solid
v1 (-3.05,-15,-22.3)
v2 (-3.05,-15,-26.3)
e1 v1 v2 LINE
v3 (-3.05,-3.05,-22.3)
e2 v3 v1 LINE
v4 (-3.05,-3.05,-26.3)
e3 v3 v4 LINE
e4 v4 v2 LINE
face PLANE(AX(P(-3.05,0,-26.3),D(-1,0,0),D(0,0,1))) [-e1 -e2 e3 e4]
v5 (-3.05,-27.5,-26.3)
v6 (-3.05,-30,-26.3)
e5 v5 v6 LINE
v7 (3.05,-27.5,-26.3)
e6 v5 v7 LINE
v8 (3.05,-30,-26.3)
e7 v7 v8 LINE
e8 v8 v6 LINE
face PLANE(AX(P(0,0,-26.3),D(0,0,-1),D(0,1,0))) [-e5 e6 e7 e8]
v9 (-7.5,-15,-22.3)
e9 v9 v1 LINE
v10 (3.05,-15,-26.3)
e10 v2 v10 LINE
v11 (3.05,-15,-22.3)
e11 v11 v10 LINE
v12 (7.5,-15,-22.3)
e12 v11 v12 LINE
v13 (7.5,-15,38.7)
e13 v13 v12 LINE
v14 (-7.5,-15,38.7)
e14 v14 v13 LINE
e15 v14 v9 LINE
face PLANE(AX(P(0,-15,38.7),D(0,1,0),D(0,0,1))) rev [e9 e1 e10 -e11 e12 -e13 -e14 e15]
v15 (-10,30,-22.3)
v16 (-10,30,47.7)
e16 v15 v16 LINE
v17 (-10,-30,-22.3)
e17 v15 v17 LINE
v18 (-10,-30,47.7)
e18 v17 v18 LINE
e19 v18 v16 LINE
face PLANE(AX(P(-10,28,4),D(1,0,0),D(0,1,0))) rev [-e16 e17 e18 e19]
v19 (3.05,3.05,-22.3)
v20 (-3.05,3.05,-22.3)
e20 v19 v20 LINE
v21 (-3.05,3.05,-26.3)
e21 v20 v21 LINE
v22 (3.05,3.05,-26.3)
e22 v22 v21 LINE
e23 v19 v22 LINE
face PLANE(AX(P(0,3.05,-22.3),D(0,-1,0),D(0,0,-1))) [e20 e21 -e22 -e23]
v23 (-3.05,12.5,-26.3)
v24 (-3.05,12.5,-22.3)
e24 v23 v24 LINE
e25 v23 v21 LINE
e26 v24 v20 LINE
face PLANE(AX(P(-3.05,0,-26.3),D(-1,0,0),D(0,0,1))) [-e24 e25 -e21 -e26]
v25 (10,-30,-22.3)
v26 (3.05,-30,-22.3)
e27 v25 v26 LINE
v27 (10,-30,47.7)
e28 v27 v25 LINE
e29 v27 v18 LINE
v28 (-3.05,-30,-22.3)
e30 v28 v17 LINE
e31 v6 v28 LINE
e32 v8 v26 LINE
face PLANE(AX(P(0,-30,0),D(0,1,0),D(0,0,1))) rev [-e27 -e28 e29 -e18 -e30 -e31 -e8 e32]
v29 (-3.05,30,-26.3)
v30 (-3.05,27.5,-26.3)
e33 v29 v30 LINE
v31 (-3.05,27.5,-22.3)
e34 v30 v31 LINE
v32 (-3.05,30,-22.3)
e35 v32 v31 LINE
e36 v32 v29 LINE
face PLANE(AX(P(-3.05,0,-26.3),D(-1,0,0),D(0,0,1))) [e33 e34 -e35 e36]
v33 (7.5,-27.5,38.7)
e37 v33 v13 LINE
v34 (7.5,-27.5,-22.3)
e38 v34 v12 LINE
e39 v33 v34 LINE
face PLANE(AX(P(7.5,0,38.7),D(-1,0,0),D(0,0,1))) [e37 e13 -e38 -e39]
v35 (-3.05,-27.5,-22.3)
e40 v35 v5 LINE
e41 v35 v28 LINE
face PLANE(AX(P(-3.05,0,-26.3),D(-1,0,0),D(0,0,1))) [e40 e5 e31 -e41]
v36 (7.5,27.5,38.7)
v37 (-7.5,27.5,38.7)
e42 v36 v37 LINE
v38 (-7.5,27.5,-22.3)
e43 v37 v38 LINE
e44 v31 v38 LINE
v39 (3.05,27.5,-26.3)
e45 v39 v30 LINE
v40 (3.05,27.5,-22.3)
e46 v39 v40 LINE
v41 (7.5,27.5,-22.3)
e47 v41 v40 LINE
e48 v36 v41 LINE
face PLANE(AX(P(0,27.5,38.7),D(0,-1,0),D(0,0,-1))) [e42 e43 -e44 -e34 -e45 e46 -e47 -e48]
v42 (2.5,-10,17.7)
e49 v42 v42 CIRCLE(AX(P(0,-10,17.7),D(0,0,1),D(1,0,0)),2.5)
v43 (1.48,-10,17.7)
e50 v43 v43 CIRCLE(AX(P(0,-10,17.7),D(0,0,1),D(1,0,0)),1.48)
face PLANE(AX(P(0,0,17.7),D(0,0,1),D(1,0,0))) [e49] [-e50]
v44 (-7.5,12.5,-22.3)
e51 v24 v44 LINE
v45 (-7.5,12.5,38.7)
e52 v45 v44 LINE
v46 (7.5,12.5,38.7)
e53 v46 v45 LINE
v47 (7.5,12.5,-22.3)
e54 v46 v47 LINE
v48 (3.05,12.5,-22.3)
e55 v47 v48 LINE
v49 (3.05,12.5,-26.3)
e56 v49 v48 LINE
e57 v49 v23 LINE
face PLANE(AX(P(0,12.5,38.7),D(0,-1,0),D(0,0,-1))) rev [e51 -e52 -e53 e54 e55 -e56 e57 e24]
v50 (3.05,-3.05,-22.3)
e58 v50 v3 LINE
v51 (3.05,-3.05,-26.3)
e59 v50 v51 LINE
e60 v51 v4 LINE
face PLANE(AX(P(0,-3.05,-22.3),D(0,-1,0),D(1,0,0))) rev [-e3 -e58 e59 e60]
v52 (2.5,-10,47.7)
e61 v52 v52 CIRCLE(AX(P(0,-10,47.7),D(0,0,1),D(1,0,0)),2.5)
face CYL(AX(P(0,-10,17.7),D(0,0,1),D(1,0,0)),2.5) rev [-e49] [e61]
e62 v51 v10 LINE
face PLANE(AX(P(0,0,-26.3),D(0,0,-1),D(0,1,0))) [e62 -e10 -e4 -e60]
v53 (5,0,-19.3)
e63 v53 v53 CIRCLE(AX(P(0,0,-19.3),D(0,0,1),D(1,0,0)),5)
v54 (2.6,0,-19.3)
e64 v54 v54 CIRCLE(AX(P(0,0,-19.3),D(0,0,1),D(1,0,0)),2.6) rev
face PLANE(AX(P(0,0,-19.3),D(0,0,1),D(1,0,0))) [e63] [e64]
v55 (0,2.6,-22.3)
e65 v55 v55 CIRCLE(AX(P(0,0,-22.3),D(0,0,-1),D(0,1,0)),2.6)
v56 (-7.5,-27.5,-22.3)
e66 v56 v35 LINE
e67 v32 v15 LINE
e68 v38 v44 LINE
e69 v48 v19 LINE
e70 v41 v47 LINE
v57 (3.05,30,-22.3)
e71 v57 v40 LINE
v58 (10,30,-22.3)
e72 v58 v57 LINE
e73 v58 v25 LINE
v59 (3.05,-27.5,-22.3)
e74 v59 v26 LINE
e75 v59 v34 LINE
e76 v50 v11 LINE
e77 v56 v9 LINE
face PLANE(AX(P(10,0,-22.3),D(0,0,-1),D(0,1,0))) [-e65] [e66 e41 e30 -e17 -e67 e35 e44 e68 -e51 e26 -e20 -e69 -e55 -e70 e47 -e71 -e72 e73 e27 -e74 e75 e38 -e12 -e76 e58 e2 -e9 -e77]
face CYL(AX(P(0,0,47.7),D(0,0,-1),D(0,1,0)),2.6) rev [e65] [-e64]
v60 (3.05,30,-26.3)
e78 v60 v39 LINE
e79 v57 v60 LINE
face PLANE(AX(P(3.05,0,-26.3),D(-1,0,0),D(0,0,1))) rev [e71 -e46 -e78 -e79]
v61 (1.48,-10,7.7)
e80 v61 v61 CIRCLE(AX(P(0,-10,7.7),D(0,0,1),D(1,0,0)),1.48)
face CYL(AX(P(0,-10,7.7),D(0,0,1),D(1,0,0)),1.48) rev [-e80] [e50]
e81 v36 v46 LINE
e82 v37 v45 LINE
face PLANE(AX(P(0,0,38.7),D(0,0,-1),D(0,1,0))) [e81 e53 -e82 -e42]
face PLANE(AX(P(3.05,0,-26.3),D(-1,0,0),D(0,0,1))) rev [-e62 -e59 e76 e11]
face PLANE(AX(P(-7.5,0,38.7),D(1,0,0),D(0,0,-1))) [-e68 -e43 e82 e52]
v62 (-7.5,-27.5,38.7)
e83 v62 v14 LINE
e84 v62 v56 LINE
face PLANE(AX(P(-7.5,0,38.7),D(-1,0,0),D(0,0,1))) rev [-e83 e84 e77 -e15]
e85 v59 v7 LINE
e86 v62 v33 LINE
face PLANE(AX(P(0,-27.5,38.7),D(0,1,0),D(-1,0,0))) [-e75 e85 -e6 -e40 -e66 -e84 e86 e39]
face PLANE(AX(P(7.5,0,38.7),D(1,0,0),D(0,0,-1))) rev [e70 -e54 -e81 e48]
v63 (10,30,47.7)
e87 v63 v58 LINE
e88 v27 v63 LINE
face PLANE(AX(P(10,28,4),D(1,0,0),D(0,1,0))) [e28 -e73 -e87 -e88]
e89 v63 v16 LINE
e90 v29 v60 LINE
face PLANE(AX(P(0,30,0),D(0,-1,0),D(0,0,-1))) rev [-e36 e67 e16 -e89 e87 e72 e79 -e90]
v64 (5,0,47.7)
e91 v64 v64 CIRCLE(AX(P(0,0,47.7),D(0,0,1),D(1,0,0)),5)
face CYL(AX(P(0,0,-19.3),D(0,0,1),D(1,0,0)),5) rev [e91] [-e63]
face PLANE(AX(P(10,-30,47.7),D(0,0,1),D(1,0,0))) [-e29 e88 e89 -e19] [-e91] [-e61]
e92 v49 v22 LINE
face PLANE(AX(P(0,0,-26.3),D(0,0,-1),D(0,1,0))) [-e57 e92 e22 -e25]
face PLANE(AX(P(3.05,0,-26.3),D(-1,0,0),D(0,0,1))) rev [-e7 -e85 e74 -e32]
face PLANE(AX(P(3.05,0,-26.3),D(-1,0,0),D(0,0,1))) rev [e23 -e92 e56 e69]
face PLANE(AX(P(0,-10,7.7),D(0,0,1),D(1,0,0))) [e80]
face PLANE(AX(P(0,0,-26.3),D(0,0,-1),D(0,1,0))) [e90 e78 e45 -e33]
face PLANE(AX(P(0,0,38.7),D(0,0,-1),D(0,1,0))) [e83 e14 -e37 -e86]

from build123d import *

# Parameters (mm, degrees)
EXTRUDE_1_DEPTH      = 14
CUT_EXTRUDE_1_DEPTH  = 44
SKETCH_3_W           = 6.2
SKETCH_3_H           = 6.2
CUT_EXTRUDE_2_DEPTH  = 4
SKETCH_4_R           = 4
CUT_EXTRUDE_3_DEPTH  = 5
SKETCH_5_R           = 2.6
CUT_EXTRUDE_4_DEPTH  = 5
CUT_EXTRUDE_5_DEPTH  = 50
EXTRUDE_2_DEPTH      = 8
EXTRUDE_3_DEPTH      = 8
SKETCH_10_W          = 20
SKETCH_10_H          = 10
EXTRUDE_4_DEPTH      = 18
SKETCH_12_R          = 1.48
CUT_EXTRUDE_6_DEPTH  = 20
SKETCH_13_W          = 4
SKETCH_13_H          = 40
CUT_EXTRUDE_7_DEPTH  = 22
SKETCH_16_R          = 5
CUT_EXTRUDE_8_DEPTH  = 3
SKETCH_17_R          = 5
CUT_EXTRUDE_9_DEPTH  = 3
SKETCH_18_R          = 2.6
CUT_EXTRUDE_10_DEPTH = 99
SKETCH_19_R          = 5
EXTRUDE_5_DEPTH      = 6
SKETCH_20_W          = 6.2
SKETCH_20_H          = 6.2
CUT_EXTRUDE_11_DEPTH = 4
SKETCH_21_W          = 6.2
SKETCH_21_H          = 6.2
EXTRUDE_6_DEPTH      = 4
SKETCH_22_W          = 0.05
SKETCH_22_H          = 60
CUT_EXTRUDE_12_DEPTH = 4
EXTRUDE_START        = 6
SKETCH_25_W          = 20
SKETCH_25_H          = 10
SKETCH_25_R          = 1.48
EXTRUDE_7_DEPTH      = 6
CUT_EXTRUDE_13_DEPTH = 7
SKETCH_28_W          = 8
SKETCH_28_H          = 10
EXTRUDE_8_DEPTH      = 20
CUT_EXTRUDE_14_DEPTH = 7
SKETCH_30_W          = 6
SKETCH_30_H          = 2.9827115
SKETCH_30_H_2        = 3.265133333
EXTRUDE_9_DEPTH      = 7
SKETCH_31_W          = 6
SKETCH_31_H          = 2
EXTRUDE_10_DEPTH     = 10
SKETCH_32_W          = 6.1
SKETCH_32_H          = 3
CUT_EXTRUDE_15_DEPTH = 10
SKETCH_33_W          = 6.1
SKETCH_33_H          = 3
CUT_EXTRUDE_16_DEPTH = 4
SKETCH_34_W          = 10
SKETCH_34_H          = 5
CUT_EXTRUDE_17_DEPTH = 6
SKETCH_35_W          = 1
SKETCH_35_H          = 5
CUT_EXTRUDE_18_DEPTH = 14
SKETCH_36_W          = 6
SKETCH_36_H          = 5
EXTRUDE_11_DEPTH     = 6
SKETCH_37_W          = 8
SKETCH_37_H          = 1
CUT_EXTRUDE_19_DEPTH = 2
SKETCH_38_R          = 5
EXTRUDE_12_DEPTH     = 6
SKETCH_39_R          = 2.6
CUT_EXTRUDE_20_DEPTH = 10
SKETCH_40_R          = 5
CUT_EXTRUDE_21_DEPTH = 3
EXTRUDE_START_2      = 1
SKETCH_41_W          = 20
SKETCH_41_H          = 40
SKETCH_41_R          = 5
EXTRUDE_13_DEPTH     = 1
SKETCH_42_W          = 20
SKETCH_42_H          = 10
SKETCH_42_R          = 1.48
EXTRUDE_14_DEPTH     = 1
SKETCH_43_W          = 5
SKETCH_43_H          = 5
CUT_EXTRUDE_22_DEPTH = 15
EXTRUDE_15_DEPTH     = 2
SKETCH_45_W          = 6.1
SKETCH_45_H          = 18.1
EXTRUDE_16_DEPTH     = 10
CUT_EXTRUDE_START    = -4
CUT_EXTRUDE_23_DEPTH = 4
SKETCH_47_W          = 15
SKETCH_47_H          = 7.002427308
EXTRUDE_17_DEPTH     = 4
CUT_EXTRUDE_24_DEPTH = 1
SKETCH_49_W          = 2
SKETCH_49_H          = 1
CUT_EXTRUDE_27_DEPTH = 12.5
SKETCH_51_W          = 5
SKETCH_51_H          = 1
EXTRUDE_18_DEPTH     = 1
CUT_EXTRUDE_28_DEPTH = 5
EXTRUDE_19_DEPTH     = 7.5
SKETCH_54_W          = 6.95
SKETCH_54_H          = 2
CUT_EXTRUDE_29_DEPTH = 7.5
SKETCH_55_W          = 6.1
SKETCH_55_H          = 3
CUT_EXTRUDE_30_DEPTH = 4
SKETCH_56_W          = 0.55
SKETCH_56_H          = 0.142857143
EXTRUDE_20_DEPTH     = 4
SKETCH_60_W          = 26.3
SKETCH_60_H          = 60
EXTRUDE_21_DEPTH     = 20
EXTRUDE_22_DEPTH     = 4
SKETCH_62_R          = 2.6
CUT_EXTRUDE_31_DEPTH = 50
SKETCH_63_R          = 5
CUT_EXTRUDE_32_DEPTH = 30.3
CUT_EXTRUDE_33_DEPTH = 4
CUT_EXTRUDE_34_DEPTH = 2
SKETCH_66_W          = 5
SKETCH_66_H          = 2
CUT_EXTRUDE_35_DEPTH = 50
CUT_EXTRUDE_36_DEPTH = 4
SKETCH_68_W          = 5
SKETCH_68_H          = 2
CUT_EXTRUDE_37_DEPTH = 2
SKETCH_69_W          = 13
SKETCH_69_H          = 7
EXTRUDE_23_DEPTH     = 15
SKETCH_70_W          = 13
SKETCH_70_H          = 7
CUT_EXTRUDE_38_DEPTH = 15
SKETCH_72_W          = 20
SKETCH_72_H          = 60
EXTRUDE_24_DEPTH     = 61.3
SKETCH_73_W          = 6.1
SKETCH_73_H          = 12
EXTRUDE_25_DEPTH     = 4
SKETCH_74_R          = 2.6
CUT_EXTRUDE_39_DEPTH = 70
SKETCH_76_W          = 70
SKETCH_76_H          = 60
EXTRUDE_26_DEPTH     = 20
SKETCH_77_R          = 2.6
CUT_EXTRUDE_40_DEPTH = 70
SKETCH_78_R          = 5
CUT_EXTRUDE_41_DEPTH = 67
SKETCH_79_R          = 2.5
CUT_EXTRUDE_42_DEPTH = 30
SKETCH_80_R          = 1.48
CUT_EXTRUDE_43_DEPTH = 10
SKETCH_81_W          = 4.45
SKETCH_81_H          = 15
SKETCH_81_W_2        = 6.1
CUT_EXTRUDE_45_DEPTH = 65
SKETCH_82_W          = 4.45
SKETCH_82_H          = 12.5
SKETCH_82_W_2        = 3.05
CUT_EXTRUDE_46_DEPTH = 65


with BuildPart() as part:
    # 草图1 → 凸台-拉伸1 (new body)
    with BuildSketch(Plane.XY):
        Polygon((-15, 22), (-15, -22), (15, -22), (15, 22), (0, 22), align=None)
    extrude(amount=EXTRUDE_1_DEPTH)

    # 草图2 → 切除-拉伸1 (cut)
    with BuildSketch(Plane(origin=(0, 22, 0), x_dir=(1, 0, 0), z_dir=(0, 1, 0))):
        Polygon((-15, 0), (-15, -14), (-10, -4), (-3.1, -4), (-3.1, 0), align=None)
        Polygon((3.1, -4), (10, -4), (15, -14), (15, 0), (3.1, 0), align=None)
    extrude(amount=-CUT_EXTRUDE_1_DEPTH, mode=Mode.SUBTRACT)

    # 草图3 → 切除-拉伸2 (cut)
    with BuildSketch(Plane(origin=(0, 0, 0), x_dir=(-1, 0, 0), z_dir=(0, 0, -1))):
        Rectangle(SKETCH_3_W, SKETCH_3_H)
    extrude(amount=-CUT_EXTRUDE_2_DEPTH, mode=Mode.SUBTRACT)

    # 草图4 → 切除-拉伸3 (cut)
    with BuildSketch(Plane.XY.offset(14)):
        Circle(SKETCH_4_R)
    extrude(amount=-CUT_EXTRUDE_3_DEPTH, mode=Mode.SUBTRACT)

    # 草图5 → 切除-拉伸4 (cut)
    with BuildSketch(Plane.XY.offset(9)):
        Circle(SKETCH_5_R)
    extrude(amount=-CUT_EXTRUDE_4_DEPTH, mode=Mode.SUBTRACT)

    # 草图6 → 切除-拉伸5 (cut)
    with BuildSketch(Plane.XZ.offset(22)):
        Polygon((-10, 4), (-15, 14), (-10, 14), align=None)
        Polygon((10, 4), (10, 14), (15, 14), align=None)
    extrude(amount=-CUT_EXTRUDE_5_DEPTH, mode=Mode.SUBTRACT)

    # 草图8 → 凸台-拉伸2 (add)
    with BuildSketch(Plane(origin=(0, -22, 0), x_dir=(-1, 0, 0), z_dir=(0, -1, 0))):
        Polygon((10, -14), (-10, -14), (-10, -4), (-3.1, -4), (-3.1, 0), (3.1, 0), (3.1, -4), (10, -4), align=None)
    extrude(amount=EXTRUDE_2_DEPTH)

    # 草图9 → 凸台-拉伸3 (add)
    with BuildSketch(Plane(origin=(0, 22, 0), x_dir=(1, 0, 0), z_dir=(0, 1, 0))):
        Polygon((-3.1, -4), (-3.1, 0), (3.1, 0), (3.1, -4), (10, -4), (10, -14), (-10, -14), (-10, -4), align=None)
    extrude(amount=EXTRUDE_3_DEPTH)

    # 草图10 → 凸台-拉伸4 (add)
    with BuildSketch(Plane.XY.offset(14)):
        with Locations((0, 25)):
            Rectangle(SKETCH_10_W, SKETCH_10_H)
        with Locations((0, -25)):
            Rectangle(SKETCH_10_W, SKETCH_10_H)
    extrude(amount=EXTRUDE_4_DEPTH)

    # 草图12 → 切除-拉伸6 (cut)
    with BuildSketch(Plane.XY.offset(32)):
        with Locations((-4.9, -24.6)):
            Circle(SKETCH_12_R)
        with Locations((4.9, -24.6)):
            Circle(SKETCH_12_R)
        with Locations((-4.9, 24.6)):
            Circle(SKETCH_12_R)
        with Locations((4.9, 24.6)):
            Circle(SKETCH_12_R)
    extrude(amount=-CUT_EXTRUDE_6_DEPTH, mode=Mode.SUBTRACT)

    # 草图13 → 切除-拉伸7 (cut)
    with BuildSketch(Plane(origin=(10, 0, 0), x_dir=(0, 0, -1), z_dir=(1, 0, 0))):
        with Locations((-12, 0)):
            Rectangle(SKETCH_13_W, SKETCH_13_H)
    extrude(amount=-CUT_EXTRUDE_7_DEPTH, mode=Mode.SUBTRACT)

    # 草图16 → 切除-拉伸8 (cut)
    with BuildSketch(Plane.XY.offset(10)):
        Circle(SKETCH_16_R)
    extrude(amount=-CUT_EXTRUDE_8_DEPTH, mode=Mode.SUBTRACT)

    # 草图17 → 切除-拉伸9 (cut)
    with BuildSketch(Plane.XY.offset(10)):
        with Locations((0, 15)):
            Circle(SKETCH_17_R)
        with Locations((0, -15)):
            Circle(SKETCH_17_R)
    extrude(amount=-CUT_EXTRUDE_9_DEPTH, mode=Mode.SUBTRACT)

    # 草图18 → 切除-拉伸10 (cut)
    with BuildSketch(Plane.XY.offset(7)):
        with Locations((0, 15)):
            Circle(SKETCH_18_R)
        with Locations((0, -15)):
            Circle(SKETCH_18_R)
    extrude(amount=-CUT_EXTRUDE_10_DEPTH, mode=Mode.SUBTRACT)

    # 草图19 → 凸台-拉伸5 (add)
    with BuildSketch(Plane.XY.offset(10)):
        Circle(SKETCH_19_R)
    extrude(amount=-EXTRUDE_5_DEPTH)

    # 草图20 → 切除-拉伸11 (cut)
    with BuildSketch(Plane(origin=(0, 0, 0), x_dir=(-1, 0, 0), z_dir=(0, 0, -1))):
        Polygon((0, -11.9), (0, -15), (0, -18.1), (3.1, -18.1), (3.1, -11.9), align=None)
        Polygon((0, -18.1), (0, -15), (0, -11.9), (-3.1, -11.9), (-3.1, -18.1), align=None)
        with Locations((0, 15)):
            Rectangle(SKETCH_20_W, SKETCH_20_H)
    extrude(amount=-CUT_EXTRUDE_11_DEPTH, mode=Mode.SUBTRACT)

    # 草图21 → 凸台-拉伸6 (add)
    with BuildSketch(Plane(origin=(0, 0, 0), x_dir=(-1, 0, 0), z_dir=(0, 0, -1))):
        Rectangle(SKETCH_21_W, SKETCH_21_H)
    extrude(amount=-EXTRUDE_6_DEPTH)

    # 草图22 → 切除-拉伸12 (cut)
    with BuildSketch(Plane(origin=(0, 0, 0), x_dir=(-1, 0, 0), z_dir=(0, 0, -1))):
        with Locations((-3.075, 0)):
            Rectangle(SKETCH_22_W, SKETCH_22_H)
        with Locations((3.075, 0)):
            Rectangle(SKETCH_22_W, SKETCH_22_H)
    extrude(amount=-CUT_EXTRUDE_12_DEPTH, mode=Mode.SUBTRACT)

    # 草图25 → 凸台-拉伸7 (add)
    # profile 1 of 2: a face of its own
    with BuildSketch(Plane.XY.offset(32).offset(EXTRUDE_START)):
        with Locations((0, 25)):
            Rectangle(SKETCH_25_W, SKETCH_25_H)
        with Locations((-4.9, 24.6)):
            Circle(SKETCH_25_R, mode=Mode.SUBTRACT)
        with Locations((4.9, 24.6)):
            Circle(SKETCH_25_R, mode=Mode.SUBTRACT)
    # profile 2 of 2: a face of its own
    with BuildSketch(Plane.XY.offset(32).offset(EXTRUDE_START)):
        with Locations((0, -25)):
            Rectangle(SKETCH_25_W, SKETCH_25_H)
        with Locations((-4.9, -24.6)):
            Circle(SKETCH_25_R, mode=Mode.SUBTRACT)
        with Locations((4.9, -24.6)):
            Circle(SKETCH_25_R, mode=Mode.SUBTRACT)
    extrude(amount=-EXTRUDE_7_DEPTH)

    # 草图27 → 切除-拉伸13 (cut)
    with BuildSketch(Plane(origin=(0, -20, 0), x_dir=(1, 0, 0), z_dir=(0, 1, 0))):
        Polygon((4, -15), (4, -10), (0, -10), (-4, -10), (-4, -15), align=None)
    extrude(amount=-CUT_EXTRUDE_13_DEPTH, mode=Mode.SUBTRACT)

    # 草图28 → 凸台-拉伸8 (add)
    with BuildSketch(Plane.ZY.offset(10)):
        with Locations((14, -25)):
            Rectangle(SKETCH_28_W, SKETCH_28_H)
        with Locations((14, 25)):
            Rectangle(SKETCH_28_W, SKETCH_28_H)
    extrude(amount=-EXTRUDE_8_DEPTH)

    # 草图29 → 切除-拉伸14 (cut)
    with BuildSketch(Plane(origin=(0, -20, 0), x_dir=(1, 0, 0), z_dir=(0, 1, 0))):
        Polygon((4, -20), (4, -10), (0, -10), (-4, -10), (-4, -20), align=None)
    extrude(amount=-CUT_EXTRUDE_14_DEPTH, mode=Mode.SUBTRACT)

    # 草图30 → 凸台-拉伸9 (add)
    with BuildSketch(Plane(origin=(0, -20, 0), x_dir=(1, 0, 0), z_dir=(0, 1, 0))):
        with Locations((-7, -18.50864425)):
            Rectangle(SKETCH_30_W, SKETCH_30_H)
        with Locations((7, -18.367433334)):
            Rectangle(SKETCH_30_W, SKETCH_30_H_2)
    extrude(amount=-EXTRUDE_9_DEPTH)

    # 草图31 → 凸台-拉伸10 (add)
    with BuildSketch(Plane(origin=(0, -20, 0), x_dir=(1, 0, 0), z_dir=(0, 1, 0))):
        with Locations((7, -21)):
            Rectangle(SKETCH_31_W, SKETCH_31_H)
        Polygon((4, -22), (4, -20), (-4, -20), (-10, -20), (-10, -22), align=None)
    extrude(amount=-EXTRUDE_10_DEPTH)

    # 草图32 → 切除-拉伸15 (cut)
    with BuildSketch(Plane(origin=(0, 0, 0), x_dir=(-1, 0, 0), z_dir=(0, 0, -1))):
        with Locations((0, -25.5)):
            Rectangle(SKETCH_32_W, SKETCH_32_H)
    extrude(amount=-CUT_EXTRUDE_15_DEPTH, mode=Mode.SUBTRACT)

    # 草图33 → 切除-拉伸16 (cut)
    with BuildSketch(Plane(origin=(0, 0, 0), x_dir=(-1, 0, 0), z_dir=(0, 0, -1))):
        with Locations((0, -28.5)):
            Rectangle(SKETCH_33_W, SKETCH_33_H)
    extrude(amount=-CUT_EXTRUDE_16_DEPTH, mode=Mode.SUBTRACT)

    # 草图34 → 切除-拉伸17 (cut)
    with BuildSketch(Plane.ZY.offset(10)):
        with Locations((15, -22.5)):
            Rectangle(SKETCH_34_W, SKETCH_34_H)
    extrude(amount=-CUT_EXTRUDE_17_DEPTH, mode=Mode.SUBTRACT)

    # 草图35 → 切除-拉伸18 (cut)
    with BuildSketch(Plane.ZY.offset(10)):
        with Locations((20.5, -22.5)):
            Rectangle(SKETCH_35_W, SKETCH_35_H)
    extrude(amount=-CUT_EXTRUDE_18_DEPTH, mode=Mode.SUBTRACT)

    # 草图36 → 凸台-拉伸11 (add)
    with BuildSketch(Plane.ZY.offset(10)):
        with Locations((13, -22.5)):
            Rectangle(SKETCH_36_W, SKETCH_36_H)
    extrude(amount=-EXTRUDE_11_DEPTH)

    # 草图37 → 切除-拉伸19 (cut)
    with BuildSketch(Plane(origin=(0, -25, 0), x_dir=(1, 0, 0), z_dir=(0, 1, 0))):
        with Locations((0, -20.5)):
            Rectangle(SKETCH_37_W, SKETCH_37_H)
    extrude(amount=-CUT_EXTRUDE_19_DEPTH, mode=Mode.SUBTRACT)

    # 草图38 → 凸台-拉伸12 (add)
    with BuildSketch(Plane.XY.offset(10)):
        with Locations((0, 15)):
            Circle(SKETCH_38_R)
        with Locations((0, -15)):
            Circle(SKETCH_38_R)
    extrude(amount=-EXTRUDE_12_DEPTH)

    # 草图39 → 切除-拉伸20 (cut)
    with BuildSketch(Plane.XY.offset(10)):
        Circle(SKETCH_39_R)
    extrude(amount=-CUT_EXTRUDE_20_DEPTH, mode=Mode.SUBTRACT)

    # 草图40 → 切除-拉伸21 (cut)
    with BuildSketch(Plane.XY.offset(10)):
        Circle(SKETCH_40_R)
    extrude(amount=-CUT_EXTRUDE_21_DEPTH, mode=Mode.SUBTRACT)

    # 草图41 → 凸台-拉伸13 (add)
    with BuildSketch(Plane.XY.offset(10).offset(EXTRUDE_START_2)):
        Rectangle(SKETCH_41_W, SKETCH_41_H)
        Circle(SKETCH_41_R, mode=Mode.SUBTRACT)
    extrude(amount=-EXTRUDE_13_DEPTH)

    # 草图42 → 凸台-拉伸14 (add)
    # profile 1 of 2: a face of its own
    with BuildSketch(Plane.XY.offset(38).offset(EXTRUDE_START_2)):
        with Locations((0, 25)):
            Rectangle(SKETCH_42_W, SKETCH_42_H)
        with Locations((-4.9, 24.6)):
            Circle(SKETCH_42_R, mode=Mode.SUBTRACT)
        with Locations((4.9, 24.6)):
            Circle(SKETCH_42_R, mode=Mode.SUBTRACT)
    # profile 2 of 2: a face of its own
    with BuildSketch(Plane.XY.offset(38).offset(EXTRUDE_START_2)):
        with Locations((0, -25)):
            Rectangle(SKETCH_42_W, SKETCH_42_H)
        with Locations((-4.9, -24.6)):
            Circle(SKETCH_42_R, mode=Mode.SUBTRACT)
        with Locations((4.9, -24.6)):
            Circle(SKETCH_42_R, mode=Mode.SUBTRACT)
    extrude(amount=-EXTRUDE_14_DEPTH)

    # 草图43 → 切除-拉伸22 (cut)
    with BuildSketch(Plane.ZY.offset(10)):
        Polygon((24, -27), (24, -20), (21, -20), (21, -25), (16, -25), (16, -20), (11, -20), (10.997708979, -20), (10.997708979, -27), align=None)
        with Locations((18.5, -22.5)):
            Rectangle(SKETCH_43_W, SKETCH_43_H)
    extrude(amount=-CUT_EXTRUDE_22_DEPTH, mode=Mode.SUBTRACT)

    # 草图44 → 凸台-拉伸15 (add)
    with BuildSketch(Plane(origin=(0, 0, 24), x_dir=(-1, 0, 0), z_dir=(0, 0, -1))):
        with BuildLine():
            Line((-5, -26.076617757), (-5, -23.123382243))
            ThreePointArc((-5, -23.123382243), (-6.38, -24.6), (-5, -26.076617757))
        make_face()
    extrude(amount=EXTRUDE_15_DEPTH)

    # 草图45 → 凸台-拉伸16 (add)
    with BuildSketch(Plane(origin=(0, 0, 0), x_dir=(-1, 0, 0), z_dir=(0, 0, -1))):
        with Locations((0, -20.95)):
            Rectangle(SKETCH_45_W, SKETCH_45_H)
        with Locations((0, 20.95)):
            Rectangle(SKETCH_45_W, SKETCH_45_H)
    extrude(amount=-EXTRUDE_16_DEPTH)

    # 草图46 → 切除-拉伸23 (cut)
    with BuildSketch(Plane(origin=(0, 0, 0), x_dir=(-1, 0, 0), z_dir=(0, 0, -1)).offset(CUT_EXTRUDE_START)):
        with BuildLine():
            Line((0, 2.6), (0, 0))
            Line((0, 0), (0, -2.6))
            ThreePointArc((0, -2.6), (1.838477631, -1.838477631), (2.6, 0))
            ThreePointArc((2.6, 0), (1.838477631, 1.838477631), (0, 2.6))
        make_face()
        with BuildLine():
            Line((0, -2.6), (0, 0))
            Line((0, 0), (0, 2.6))
            ThreePointArc((0, 2.6), (-2.6, 0), (0, -2.6))
        make_face()
        with BuildLine():
            ThreePointArc((0, -2.6), (-2.6, 0), (0, 2.6))
            Line((0, 2.6), (0, 3.05))
            Line((0, 3.05), (-3.05, 3.05))
            Line((-3.05, 3.05), (-3.05, -3.05))
            Line((-3.05, -3.05), (0, -3.05))
            Line((0, -3.05), (0, -2.6))
        make_face()
        with BuildLine():
            Line((0, 3.05), (0, 2.6))
            ThreePointArc((0, 2.6), (1.838477631, 1.838477631), (2.6, 0))
            ThreePointArc((2.6, 0), (1.838477631, -1.838477631), (0, -2.6))
            Line((0, -2.6), (0, -3.05))
            Line((0, -3.05), (3.05, -3.05))
            Line((3.05, -3.05), (3.05, 3.05))
            Line((3.05, 3.05), (0, 3.05))
        make_face()
    extrude(amount=CUT_EXTRUDE_23_DEPTH, mode=Mode.SUBTRACT)

    # 草图47 → 凸台-拉伸17 (add)
    with BuildSketch(Plane.XY.offset(11)):
        with Locations((-2.5, -23.501213654)):
            Rectangle(SKETCH_47_W, SKETCH_47_H)
    extrude(amount=-EXTRUDE_17_DEPTH)

    # 草图48 → 切除-拉伸24 (cut)
    with BuildSketch(Plane.XY.offset(11)):
        with BuildLine():
            Line((-2.5, 20), (-2.5, 4.330127019))
            ThreePointArc((-2.5, 4.330127019), (0, 5), (2.5, 4.330127019))
            Line((2.5, 4.330127019), (2.5, 20))
            Line((2.5, 20), (-2.5, 20))
        make_face()
        with BuildLine():
            Line((-2.5, -27), (0, -27))
            Line((0, -27), (2.5, -27))
            Line((2.5, -27), (2.5, -4.330127019))
            ThreePointArc((2.5, -4.330127019), (0, -5), (-2.5, -4.330127019))
            Line((-2.5, -4.330127019), (-2.5, -27))
        make_face()
    extrude(amount=-CUT_EXTRUDE_24_DEPTH, mode=Mode.SUBTRACT)

    # 草图49 → 切除-拉伸27 (cut)
    with BuildSketch(Plane.ZY.offset(10)):
        with Locations((10, 19.5)):
            Rectangle(SKETCH_49_W, SKETCH_49_H)
        Polygon((9, 20), (11, 20), (4, 30), (4, 27.142857143), align=None)
        Polygon((4, 27.142857143), (4, 30), (4, 31.546618197), (2, 31.546618197), (2, 30), align=None)
    extrude(amount=-CUT_EXTRUDE_27_DEPTH, mode=Mode.SUBTRACT)

    # 草图51 → 凸台-拉伸18 (add)
    with BuildSketch(Plane(origin=(0, 19, 0), x_dir=(1, 0, 0), z_dir=(0, 1, 0))):
        with Locations((0, -9.5)):
            Rectangle(SKETCH_51_W, SKETCH_51_H)
    extrude(amount=EXTRUDE_18_DEPTH)

    # 草图52 → 切除-拉伸28 (cut)
    with BuildSketch(Plane.ZY.offset(2.5)):
        Polygon((9, 20), (10, 19), (10, 20), align=None)
    extrude(amount=-CUT_EXTRUDE_28_DEPTH, mode=Mode.SUBTRACT)

    # 草图53 → 凸台-拉伸19 (add)
    with BuildSketch(Plane.ZY.offset(10)):
        Polygon((11, 20), (4, 30), (2, 30), (9, 20), (9, 19), (11, 19), align=None)
    extrude(amount=-EXTRUDE_19_DEPTH)

    # 草图54 → 切除-拉伸29 (cut)
    with BuildSketch(Plane(origin=(0, 30, 0), x_dir=(1, 0, 0), z_dir=(0, 1, 0))):
        with Locations((-6.525, -3)):
            Rectangle(SKETCH_54_W, SKETCH_54_H)
    extrude(amount=-CUT_EXTRUDE_29_DEPTH, mode=Mode.SUBTRACT)

    # 草图55 → 切除-拉伸30 (cut)
    with BuildSketch(Plane(origin=(0, 0, 0), x_dir=(-1, 0, 0), z_dir=(0, 0, -1))):
        with Locations((0, 28.5)):
            Rectangle(SKETCH_55_W, SKETCH_55_H)
    extrude(amount=-CUT_EXTRUDE_30_DEPTH, mode=Mode.SUBTRACT)

    # 草图56 → 凸台-拉伸20 (add)
    with BuildSketch(Plane(origin=(0, 0, 4), x_dir=(-1, 0, 0), z_dir=(0, 0, -1))):
        with Locations((-2.775, 27.071428572)):
            Rectangle(SKETCH_56_W, SKETCH_56_H)
        Polygon((2.5, 27.142857143), (-2.5, 27.142857143), (-2.5, 27), (3.05, 27), (3.05, 27.142857143), align=None)
    extrude(amount=EXTRUDE_20_DEPTH)

    # 草图60 → 凸台-拉伸21 (add)
    with BuildSketch(Plane.ZY.offset(10)):
        with Locations((-9.15, 0)):
            Rectangle(SKETCH_60_W, SKETCH_60_H)
        Polygon((11, -27), (11, 20), (11, 30), (4, 30), (4, -30), (11, -30), align=None)
    extrude(amount=-EXTRUDE_21_DEPTH)

    # 草图61 → 凸台-拉伸22 (add)
    with BuildSketch(Plane(origin=(0, 0, -22.3), x_dir=(-1, 0, 0), z_dir=(0, 0, -1))):
        Polygon((0, -30), (0, 0), (0, 30), (-3.05, 30), (-3.05, -30), align=None)
        Polygon((0, 30), (0, 0), (0, -30), (3.05, -30), (3.05, 30), align=None)
    extrude(amount=EXTRUDE_22_DEPTH)

    # 草图62 → 切除-拉伸31 (cut)
    with BuildSketch(Plane.XY.offset(11)):
        Circle(SKETCH_62_R)
    extrude(amount=-CUT_EXTRUDE_31_DEPTH, mode=Mode.SUBTRACT)

    # 草图63 → 切除-拉伸32 (cut)
    with BuildSketch(Plane.XY.offset(11)):
        Circle(SKETCH_63_R)
    extrude(amount=-CUT_EXTRUDE_32_DEPTH, mode=Mode.SUBTRACT)

    # 草图64 → 切除-拉伸33 (cut)
    with BuildSketch(Plane(origin=(0, 0, -26.3), x_dir=(-1, 0, 0), z_dir=(0, 0, -1)).offset(CUT_EXTRUDE_START)):
        with BuildLine():
            Line((0, 3.05), (0, 2.6))
            ThreePointArc((0, 2.6), (1.838477631, 1.838477631), (2.6, 0))
            ThreePointArc((2.6, 0), (1.838477631, -1.838477631), (0, -2.6))
            Line((0, -2.6), (0, -3.05))
            Line((0, -3.05), (3.05, -3.05))
            Line((3.05, -3.05), (3.05, 3.05))
            Line((3.05, 3.05), (0, 3.05))
        make_face()
        with BuildLine():
            ThreePointArc((0, -2.6), (-2.6, 0), (0, 2.6))
            Line((0, 2.6), (0, 3.05))
            Line((0, 3.05), (-3.05, 3.05))
            Line((-3.05, 3.05), (-3.05, -3.05))
            Line((-3.05, -3.05), (0, -3.05))
            Line((0, -3.05), (0, -2.6))
        make_face()
    extrude(amount=CUT_EXTRUDE_33_DEPTH, mode=Mode.SUBTRACT)

    # 草图65 → 切除-拉伸34 (cut)
    with BuildSketch(Plane.XY.offset(11)):
        with BuildLine():
            Line((0, 20), (0, 5))
            ThreePointArc((0, 5), (1.294095226, 4.829629131), (2.5, 4.330127019))
            Line((2.5, 4.330127019), (2.5, 20))
            Line((2.5, 20), (0, 20))
        make_face()
        with BuildLine():
            ThreePointArc((-2.5, 4.330127019), (-1.294095226, 4.829629131), (0, 5))
            Line((0, 5), (0, 20))
            Line((0, 20), (-2.5, 20))
            Line((-2.5, 20), (-2.5, 4.330127019))
        make_face()
        with BuildLine():
            ThreePointArc((2.5, -4.330127019), (1.294095226, -4.829629131), (0, -5))
            Line((0, -5), (0, -27))
            Line((0, -27), (2.5, -27))
            Line((2.5, -27), (2.5, -4.330127019))
        make_face()
        with BuildLine():
            Line((0, -27), (0, -5))
            ThreePointArc((0, -5), (-1.294095226, -4.829629131), (-2.5, -4.330127019))
            Line((-2.5, -4.330127019), (-2.5, -27))
            Line((-2.5, -27), (0, -27))
        make_face()
    extrude(amount=-CUT_EXTRUDE_34_DEPTH, mode=Mode.SUBTRACT)

    # 草图66 → 切除-拉伸35 (cut)
    with BuildSketch(Plane.XY.offset(9)):
        with Locations((0, 19)):
            Rectangle(SKETCH_66_W, SKETCH_66_H)
    extrude(amount=-CUT_EXTRUDE_35_DEPTH, mode=Mode.SUBTRACT)

    # 草图67 → 切除-拉伸36 (cut)
    with BuildSketch(Plane(origin=(0, 0, -26.3), x_dir=(-1, 0, 0), z_dir=(0, 0, -1))):
        Polygon((2.5, 20), (2.5, 18), (3.05, 18), (3.05, 30), (-3.05, 30), (-3.05, 18), (-2.5, 18), (-2.5, 20), align=None)
    extrude(amount=-CUT_EXTRUDE_36_DEPTH, mode=Mode.SUBTRACT)

    # 草图68 → 切除-拉伸37 (cut)
    with BuildSketch(Plane.XY.offset(9)):
        with Locations((0, 17)):
            Rectangle(SKETCH_68_W, SKETCH_68_H)
    extrude(amount=-CUT_EXTRUDE_37_DEPTH, mode=Mode.SUBTRACT)

    # 草图69 → 凸台-拉伸23 (add)
    with BuildSketch(Plane.ZY.offset(-5)):
        with Locations((17.5, -23.5)):
            Rectangle(SKETCH_69_W, SKETCH_69_H)
    extrude(amount=EXTRUDE_23_DEPTH)

    # 草图70 → 切除-拉伸38 (cut)
    with BuildSketch(Plane(origin=(10, 0, 0), x_dir=(0, 0, -1), z_dir=(1, 0, 0))):
        with Locations((-17.5, -23.5)):
            Rectangle(SKETCH_70_W, SKETCH_70_H)
    extrude(amount=-CUT_EXTRUDE_38_DEPTH, mode=Mode.SUBTRACT)

    # 草图72 → 凸台-拉伸24 (add)
    with BuildSketch(Plane.XY.offset(39)):
        Rectangle(SKETCH_72_W, SKETCH_72_H)
    extrude(amount=-EXTRUDE_24_DEPTH)

    # 草图73 → 凸台-拉伸25 (add)
    with BuildSketch(Plane(origin=(0, 0, -26.3), x_dir=(-1, 0, 0), z_dir=(0, 0, -1))):
        with Locations((0, 24)):
            Rectangle(SKETCH_73_W, SKETCH_73_H)
    extrude(amount=-EXTRUDE_25_DEPTH)

    # 草图74 → 切除-拉伸39 (cut)
    with BuildSketch(Plane(origin=(0, 0, -22.3), x_dir=(-1, 0, 0), z_dir=(0, 0, -1))):
        with Locations(Location((0, 0, 0), (0, 0, 90))):
            Circle(SKETCH_74_R)
    extrude(amount=-CUT_EXTRUDE_39_DEPTH, mode=Mode.SUBTRACT)

    # 草图76 → 凸台-拉伸26 (add)
    with BuildSketch(Plane.ZY.offset(10)):
        with Locations((12.7, 0)):
            Rectangle(SKETCH_76_W, SKETCH_76_H)
    extrude(amount=-EXTRUDE_26_DEPTH)

    # 草图77 → 切除-拉伸40 (cut)
    with BuildSketch(Plane(origin=(0, 0, -22.3), x_dir=(-1, 0, 0), z_dir=(0, 0, -1))):
        with Locations(Location((0, 0, 0), (0, 0, 90))):
            Circle(SKETCH_77_R)
    extrude(amount=-CUT_EXTRUDE_40_DEPTH, mode=Mode.SUBTRACT)

    # 草图78 → 切除-拉伸41 (cut)
    with BuildSketch(Plane.XY.offset(47.7)):
        Circle(SKETCH_78_R)
    extrude(amount=-CUT_EXTRUDE_41_DEPTH, mode=Mode.SUBTRACT)

    # 草图79 → 切除-拉伸42 (cut)
    with BuildSketch(Plane.XY.offset(47.7)):
        with Locations((0, -10)):
            Circle(SKETCH_79_R)
    extrude(amount=-CUT_EXTRUDE_42_DEPTH, mode=Mode.SUBTRACT)

    # 草图80 → 切除-拉伸43 (cut)
    with BuildSketch(Plane.XY.offset(17.7)):
        with Locations((0, -10)):
            Circle(SKETCH_80_R)
    extrude(amount=-CUT_EXTRUDE_43_DEPTH, mode=Mode.SUBTRACT)

    # 草图81 → 切除-拉伸45 (cut)
    with BuildSketch(Plane(origin=(0, 0, -26.3), x_dir=(-1, 0, 0), z_dir=(0, 0, -1))):
        with Locations((-5.275, 20)):
            Rectangle(SKETCH_81_W, SKETCH_81_H)
        with Locations((0, 20)):
            Rectangle(SKETCH_81_W_2, SKETCH_81_H)
        with Locations((5.275, 20)):
            Rectangle(SKETCH_81_W, SKETCH_81_H)
    extrude(amount=-CUT_EXTRUDE_45_DEPTH, mode=Mode.SUBTRACT)

    # 草图82 → 切除-拉伸46 (cut)
    with BuildSketch(Plane(origin=(0, 0, -26.3), x_dir=(-1, 0, 0), z_dir=(0, 0, -1))):
        with Locations((5.275, -21.25)):
            Rectangle(SKETCH_82_W, SKETCH_82_H)
        with Locations((-5.275, -21.25)):
            Rectangle(SKETCH_82_W, SKETCH_82_H)
        with Locations((-1.525, -21.25)):
            Rectangle(SKETCH_82_W_2, SKETCH_82_H)
        with Locations((1.525, -21.25)):
            Rectangle(SKETCH_82_W_2, SKETCH_82_H)
    extrude(amount=-CUT_EXTRUDE_46_DEPTH, mode=Mode.SUBTRACT)


solid = part.part
